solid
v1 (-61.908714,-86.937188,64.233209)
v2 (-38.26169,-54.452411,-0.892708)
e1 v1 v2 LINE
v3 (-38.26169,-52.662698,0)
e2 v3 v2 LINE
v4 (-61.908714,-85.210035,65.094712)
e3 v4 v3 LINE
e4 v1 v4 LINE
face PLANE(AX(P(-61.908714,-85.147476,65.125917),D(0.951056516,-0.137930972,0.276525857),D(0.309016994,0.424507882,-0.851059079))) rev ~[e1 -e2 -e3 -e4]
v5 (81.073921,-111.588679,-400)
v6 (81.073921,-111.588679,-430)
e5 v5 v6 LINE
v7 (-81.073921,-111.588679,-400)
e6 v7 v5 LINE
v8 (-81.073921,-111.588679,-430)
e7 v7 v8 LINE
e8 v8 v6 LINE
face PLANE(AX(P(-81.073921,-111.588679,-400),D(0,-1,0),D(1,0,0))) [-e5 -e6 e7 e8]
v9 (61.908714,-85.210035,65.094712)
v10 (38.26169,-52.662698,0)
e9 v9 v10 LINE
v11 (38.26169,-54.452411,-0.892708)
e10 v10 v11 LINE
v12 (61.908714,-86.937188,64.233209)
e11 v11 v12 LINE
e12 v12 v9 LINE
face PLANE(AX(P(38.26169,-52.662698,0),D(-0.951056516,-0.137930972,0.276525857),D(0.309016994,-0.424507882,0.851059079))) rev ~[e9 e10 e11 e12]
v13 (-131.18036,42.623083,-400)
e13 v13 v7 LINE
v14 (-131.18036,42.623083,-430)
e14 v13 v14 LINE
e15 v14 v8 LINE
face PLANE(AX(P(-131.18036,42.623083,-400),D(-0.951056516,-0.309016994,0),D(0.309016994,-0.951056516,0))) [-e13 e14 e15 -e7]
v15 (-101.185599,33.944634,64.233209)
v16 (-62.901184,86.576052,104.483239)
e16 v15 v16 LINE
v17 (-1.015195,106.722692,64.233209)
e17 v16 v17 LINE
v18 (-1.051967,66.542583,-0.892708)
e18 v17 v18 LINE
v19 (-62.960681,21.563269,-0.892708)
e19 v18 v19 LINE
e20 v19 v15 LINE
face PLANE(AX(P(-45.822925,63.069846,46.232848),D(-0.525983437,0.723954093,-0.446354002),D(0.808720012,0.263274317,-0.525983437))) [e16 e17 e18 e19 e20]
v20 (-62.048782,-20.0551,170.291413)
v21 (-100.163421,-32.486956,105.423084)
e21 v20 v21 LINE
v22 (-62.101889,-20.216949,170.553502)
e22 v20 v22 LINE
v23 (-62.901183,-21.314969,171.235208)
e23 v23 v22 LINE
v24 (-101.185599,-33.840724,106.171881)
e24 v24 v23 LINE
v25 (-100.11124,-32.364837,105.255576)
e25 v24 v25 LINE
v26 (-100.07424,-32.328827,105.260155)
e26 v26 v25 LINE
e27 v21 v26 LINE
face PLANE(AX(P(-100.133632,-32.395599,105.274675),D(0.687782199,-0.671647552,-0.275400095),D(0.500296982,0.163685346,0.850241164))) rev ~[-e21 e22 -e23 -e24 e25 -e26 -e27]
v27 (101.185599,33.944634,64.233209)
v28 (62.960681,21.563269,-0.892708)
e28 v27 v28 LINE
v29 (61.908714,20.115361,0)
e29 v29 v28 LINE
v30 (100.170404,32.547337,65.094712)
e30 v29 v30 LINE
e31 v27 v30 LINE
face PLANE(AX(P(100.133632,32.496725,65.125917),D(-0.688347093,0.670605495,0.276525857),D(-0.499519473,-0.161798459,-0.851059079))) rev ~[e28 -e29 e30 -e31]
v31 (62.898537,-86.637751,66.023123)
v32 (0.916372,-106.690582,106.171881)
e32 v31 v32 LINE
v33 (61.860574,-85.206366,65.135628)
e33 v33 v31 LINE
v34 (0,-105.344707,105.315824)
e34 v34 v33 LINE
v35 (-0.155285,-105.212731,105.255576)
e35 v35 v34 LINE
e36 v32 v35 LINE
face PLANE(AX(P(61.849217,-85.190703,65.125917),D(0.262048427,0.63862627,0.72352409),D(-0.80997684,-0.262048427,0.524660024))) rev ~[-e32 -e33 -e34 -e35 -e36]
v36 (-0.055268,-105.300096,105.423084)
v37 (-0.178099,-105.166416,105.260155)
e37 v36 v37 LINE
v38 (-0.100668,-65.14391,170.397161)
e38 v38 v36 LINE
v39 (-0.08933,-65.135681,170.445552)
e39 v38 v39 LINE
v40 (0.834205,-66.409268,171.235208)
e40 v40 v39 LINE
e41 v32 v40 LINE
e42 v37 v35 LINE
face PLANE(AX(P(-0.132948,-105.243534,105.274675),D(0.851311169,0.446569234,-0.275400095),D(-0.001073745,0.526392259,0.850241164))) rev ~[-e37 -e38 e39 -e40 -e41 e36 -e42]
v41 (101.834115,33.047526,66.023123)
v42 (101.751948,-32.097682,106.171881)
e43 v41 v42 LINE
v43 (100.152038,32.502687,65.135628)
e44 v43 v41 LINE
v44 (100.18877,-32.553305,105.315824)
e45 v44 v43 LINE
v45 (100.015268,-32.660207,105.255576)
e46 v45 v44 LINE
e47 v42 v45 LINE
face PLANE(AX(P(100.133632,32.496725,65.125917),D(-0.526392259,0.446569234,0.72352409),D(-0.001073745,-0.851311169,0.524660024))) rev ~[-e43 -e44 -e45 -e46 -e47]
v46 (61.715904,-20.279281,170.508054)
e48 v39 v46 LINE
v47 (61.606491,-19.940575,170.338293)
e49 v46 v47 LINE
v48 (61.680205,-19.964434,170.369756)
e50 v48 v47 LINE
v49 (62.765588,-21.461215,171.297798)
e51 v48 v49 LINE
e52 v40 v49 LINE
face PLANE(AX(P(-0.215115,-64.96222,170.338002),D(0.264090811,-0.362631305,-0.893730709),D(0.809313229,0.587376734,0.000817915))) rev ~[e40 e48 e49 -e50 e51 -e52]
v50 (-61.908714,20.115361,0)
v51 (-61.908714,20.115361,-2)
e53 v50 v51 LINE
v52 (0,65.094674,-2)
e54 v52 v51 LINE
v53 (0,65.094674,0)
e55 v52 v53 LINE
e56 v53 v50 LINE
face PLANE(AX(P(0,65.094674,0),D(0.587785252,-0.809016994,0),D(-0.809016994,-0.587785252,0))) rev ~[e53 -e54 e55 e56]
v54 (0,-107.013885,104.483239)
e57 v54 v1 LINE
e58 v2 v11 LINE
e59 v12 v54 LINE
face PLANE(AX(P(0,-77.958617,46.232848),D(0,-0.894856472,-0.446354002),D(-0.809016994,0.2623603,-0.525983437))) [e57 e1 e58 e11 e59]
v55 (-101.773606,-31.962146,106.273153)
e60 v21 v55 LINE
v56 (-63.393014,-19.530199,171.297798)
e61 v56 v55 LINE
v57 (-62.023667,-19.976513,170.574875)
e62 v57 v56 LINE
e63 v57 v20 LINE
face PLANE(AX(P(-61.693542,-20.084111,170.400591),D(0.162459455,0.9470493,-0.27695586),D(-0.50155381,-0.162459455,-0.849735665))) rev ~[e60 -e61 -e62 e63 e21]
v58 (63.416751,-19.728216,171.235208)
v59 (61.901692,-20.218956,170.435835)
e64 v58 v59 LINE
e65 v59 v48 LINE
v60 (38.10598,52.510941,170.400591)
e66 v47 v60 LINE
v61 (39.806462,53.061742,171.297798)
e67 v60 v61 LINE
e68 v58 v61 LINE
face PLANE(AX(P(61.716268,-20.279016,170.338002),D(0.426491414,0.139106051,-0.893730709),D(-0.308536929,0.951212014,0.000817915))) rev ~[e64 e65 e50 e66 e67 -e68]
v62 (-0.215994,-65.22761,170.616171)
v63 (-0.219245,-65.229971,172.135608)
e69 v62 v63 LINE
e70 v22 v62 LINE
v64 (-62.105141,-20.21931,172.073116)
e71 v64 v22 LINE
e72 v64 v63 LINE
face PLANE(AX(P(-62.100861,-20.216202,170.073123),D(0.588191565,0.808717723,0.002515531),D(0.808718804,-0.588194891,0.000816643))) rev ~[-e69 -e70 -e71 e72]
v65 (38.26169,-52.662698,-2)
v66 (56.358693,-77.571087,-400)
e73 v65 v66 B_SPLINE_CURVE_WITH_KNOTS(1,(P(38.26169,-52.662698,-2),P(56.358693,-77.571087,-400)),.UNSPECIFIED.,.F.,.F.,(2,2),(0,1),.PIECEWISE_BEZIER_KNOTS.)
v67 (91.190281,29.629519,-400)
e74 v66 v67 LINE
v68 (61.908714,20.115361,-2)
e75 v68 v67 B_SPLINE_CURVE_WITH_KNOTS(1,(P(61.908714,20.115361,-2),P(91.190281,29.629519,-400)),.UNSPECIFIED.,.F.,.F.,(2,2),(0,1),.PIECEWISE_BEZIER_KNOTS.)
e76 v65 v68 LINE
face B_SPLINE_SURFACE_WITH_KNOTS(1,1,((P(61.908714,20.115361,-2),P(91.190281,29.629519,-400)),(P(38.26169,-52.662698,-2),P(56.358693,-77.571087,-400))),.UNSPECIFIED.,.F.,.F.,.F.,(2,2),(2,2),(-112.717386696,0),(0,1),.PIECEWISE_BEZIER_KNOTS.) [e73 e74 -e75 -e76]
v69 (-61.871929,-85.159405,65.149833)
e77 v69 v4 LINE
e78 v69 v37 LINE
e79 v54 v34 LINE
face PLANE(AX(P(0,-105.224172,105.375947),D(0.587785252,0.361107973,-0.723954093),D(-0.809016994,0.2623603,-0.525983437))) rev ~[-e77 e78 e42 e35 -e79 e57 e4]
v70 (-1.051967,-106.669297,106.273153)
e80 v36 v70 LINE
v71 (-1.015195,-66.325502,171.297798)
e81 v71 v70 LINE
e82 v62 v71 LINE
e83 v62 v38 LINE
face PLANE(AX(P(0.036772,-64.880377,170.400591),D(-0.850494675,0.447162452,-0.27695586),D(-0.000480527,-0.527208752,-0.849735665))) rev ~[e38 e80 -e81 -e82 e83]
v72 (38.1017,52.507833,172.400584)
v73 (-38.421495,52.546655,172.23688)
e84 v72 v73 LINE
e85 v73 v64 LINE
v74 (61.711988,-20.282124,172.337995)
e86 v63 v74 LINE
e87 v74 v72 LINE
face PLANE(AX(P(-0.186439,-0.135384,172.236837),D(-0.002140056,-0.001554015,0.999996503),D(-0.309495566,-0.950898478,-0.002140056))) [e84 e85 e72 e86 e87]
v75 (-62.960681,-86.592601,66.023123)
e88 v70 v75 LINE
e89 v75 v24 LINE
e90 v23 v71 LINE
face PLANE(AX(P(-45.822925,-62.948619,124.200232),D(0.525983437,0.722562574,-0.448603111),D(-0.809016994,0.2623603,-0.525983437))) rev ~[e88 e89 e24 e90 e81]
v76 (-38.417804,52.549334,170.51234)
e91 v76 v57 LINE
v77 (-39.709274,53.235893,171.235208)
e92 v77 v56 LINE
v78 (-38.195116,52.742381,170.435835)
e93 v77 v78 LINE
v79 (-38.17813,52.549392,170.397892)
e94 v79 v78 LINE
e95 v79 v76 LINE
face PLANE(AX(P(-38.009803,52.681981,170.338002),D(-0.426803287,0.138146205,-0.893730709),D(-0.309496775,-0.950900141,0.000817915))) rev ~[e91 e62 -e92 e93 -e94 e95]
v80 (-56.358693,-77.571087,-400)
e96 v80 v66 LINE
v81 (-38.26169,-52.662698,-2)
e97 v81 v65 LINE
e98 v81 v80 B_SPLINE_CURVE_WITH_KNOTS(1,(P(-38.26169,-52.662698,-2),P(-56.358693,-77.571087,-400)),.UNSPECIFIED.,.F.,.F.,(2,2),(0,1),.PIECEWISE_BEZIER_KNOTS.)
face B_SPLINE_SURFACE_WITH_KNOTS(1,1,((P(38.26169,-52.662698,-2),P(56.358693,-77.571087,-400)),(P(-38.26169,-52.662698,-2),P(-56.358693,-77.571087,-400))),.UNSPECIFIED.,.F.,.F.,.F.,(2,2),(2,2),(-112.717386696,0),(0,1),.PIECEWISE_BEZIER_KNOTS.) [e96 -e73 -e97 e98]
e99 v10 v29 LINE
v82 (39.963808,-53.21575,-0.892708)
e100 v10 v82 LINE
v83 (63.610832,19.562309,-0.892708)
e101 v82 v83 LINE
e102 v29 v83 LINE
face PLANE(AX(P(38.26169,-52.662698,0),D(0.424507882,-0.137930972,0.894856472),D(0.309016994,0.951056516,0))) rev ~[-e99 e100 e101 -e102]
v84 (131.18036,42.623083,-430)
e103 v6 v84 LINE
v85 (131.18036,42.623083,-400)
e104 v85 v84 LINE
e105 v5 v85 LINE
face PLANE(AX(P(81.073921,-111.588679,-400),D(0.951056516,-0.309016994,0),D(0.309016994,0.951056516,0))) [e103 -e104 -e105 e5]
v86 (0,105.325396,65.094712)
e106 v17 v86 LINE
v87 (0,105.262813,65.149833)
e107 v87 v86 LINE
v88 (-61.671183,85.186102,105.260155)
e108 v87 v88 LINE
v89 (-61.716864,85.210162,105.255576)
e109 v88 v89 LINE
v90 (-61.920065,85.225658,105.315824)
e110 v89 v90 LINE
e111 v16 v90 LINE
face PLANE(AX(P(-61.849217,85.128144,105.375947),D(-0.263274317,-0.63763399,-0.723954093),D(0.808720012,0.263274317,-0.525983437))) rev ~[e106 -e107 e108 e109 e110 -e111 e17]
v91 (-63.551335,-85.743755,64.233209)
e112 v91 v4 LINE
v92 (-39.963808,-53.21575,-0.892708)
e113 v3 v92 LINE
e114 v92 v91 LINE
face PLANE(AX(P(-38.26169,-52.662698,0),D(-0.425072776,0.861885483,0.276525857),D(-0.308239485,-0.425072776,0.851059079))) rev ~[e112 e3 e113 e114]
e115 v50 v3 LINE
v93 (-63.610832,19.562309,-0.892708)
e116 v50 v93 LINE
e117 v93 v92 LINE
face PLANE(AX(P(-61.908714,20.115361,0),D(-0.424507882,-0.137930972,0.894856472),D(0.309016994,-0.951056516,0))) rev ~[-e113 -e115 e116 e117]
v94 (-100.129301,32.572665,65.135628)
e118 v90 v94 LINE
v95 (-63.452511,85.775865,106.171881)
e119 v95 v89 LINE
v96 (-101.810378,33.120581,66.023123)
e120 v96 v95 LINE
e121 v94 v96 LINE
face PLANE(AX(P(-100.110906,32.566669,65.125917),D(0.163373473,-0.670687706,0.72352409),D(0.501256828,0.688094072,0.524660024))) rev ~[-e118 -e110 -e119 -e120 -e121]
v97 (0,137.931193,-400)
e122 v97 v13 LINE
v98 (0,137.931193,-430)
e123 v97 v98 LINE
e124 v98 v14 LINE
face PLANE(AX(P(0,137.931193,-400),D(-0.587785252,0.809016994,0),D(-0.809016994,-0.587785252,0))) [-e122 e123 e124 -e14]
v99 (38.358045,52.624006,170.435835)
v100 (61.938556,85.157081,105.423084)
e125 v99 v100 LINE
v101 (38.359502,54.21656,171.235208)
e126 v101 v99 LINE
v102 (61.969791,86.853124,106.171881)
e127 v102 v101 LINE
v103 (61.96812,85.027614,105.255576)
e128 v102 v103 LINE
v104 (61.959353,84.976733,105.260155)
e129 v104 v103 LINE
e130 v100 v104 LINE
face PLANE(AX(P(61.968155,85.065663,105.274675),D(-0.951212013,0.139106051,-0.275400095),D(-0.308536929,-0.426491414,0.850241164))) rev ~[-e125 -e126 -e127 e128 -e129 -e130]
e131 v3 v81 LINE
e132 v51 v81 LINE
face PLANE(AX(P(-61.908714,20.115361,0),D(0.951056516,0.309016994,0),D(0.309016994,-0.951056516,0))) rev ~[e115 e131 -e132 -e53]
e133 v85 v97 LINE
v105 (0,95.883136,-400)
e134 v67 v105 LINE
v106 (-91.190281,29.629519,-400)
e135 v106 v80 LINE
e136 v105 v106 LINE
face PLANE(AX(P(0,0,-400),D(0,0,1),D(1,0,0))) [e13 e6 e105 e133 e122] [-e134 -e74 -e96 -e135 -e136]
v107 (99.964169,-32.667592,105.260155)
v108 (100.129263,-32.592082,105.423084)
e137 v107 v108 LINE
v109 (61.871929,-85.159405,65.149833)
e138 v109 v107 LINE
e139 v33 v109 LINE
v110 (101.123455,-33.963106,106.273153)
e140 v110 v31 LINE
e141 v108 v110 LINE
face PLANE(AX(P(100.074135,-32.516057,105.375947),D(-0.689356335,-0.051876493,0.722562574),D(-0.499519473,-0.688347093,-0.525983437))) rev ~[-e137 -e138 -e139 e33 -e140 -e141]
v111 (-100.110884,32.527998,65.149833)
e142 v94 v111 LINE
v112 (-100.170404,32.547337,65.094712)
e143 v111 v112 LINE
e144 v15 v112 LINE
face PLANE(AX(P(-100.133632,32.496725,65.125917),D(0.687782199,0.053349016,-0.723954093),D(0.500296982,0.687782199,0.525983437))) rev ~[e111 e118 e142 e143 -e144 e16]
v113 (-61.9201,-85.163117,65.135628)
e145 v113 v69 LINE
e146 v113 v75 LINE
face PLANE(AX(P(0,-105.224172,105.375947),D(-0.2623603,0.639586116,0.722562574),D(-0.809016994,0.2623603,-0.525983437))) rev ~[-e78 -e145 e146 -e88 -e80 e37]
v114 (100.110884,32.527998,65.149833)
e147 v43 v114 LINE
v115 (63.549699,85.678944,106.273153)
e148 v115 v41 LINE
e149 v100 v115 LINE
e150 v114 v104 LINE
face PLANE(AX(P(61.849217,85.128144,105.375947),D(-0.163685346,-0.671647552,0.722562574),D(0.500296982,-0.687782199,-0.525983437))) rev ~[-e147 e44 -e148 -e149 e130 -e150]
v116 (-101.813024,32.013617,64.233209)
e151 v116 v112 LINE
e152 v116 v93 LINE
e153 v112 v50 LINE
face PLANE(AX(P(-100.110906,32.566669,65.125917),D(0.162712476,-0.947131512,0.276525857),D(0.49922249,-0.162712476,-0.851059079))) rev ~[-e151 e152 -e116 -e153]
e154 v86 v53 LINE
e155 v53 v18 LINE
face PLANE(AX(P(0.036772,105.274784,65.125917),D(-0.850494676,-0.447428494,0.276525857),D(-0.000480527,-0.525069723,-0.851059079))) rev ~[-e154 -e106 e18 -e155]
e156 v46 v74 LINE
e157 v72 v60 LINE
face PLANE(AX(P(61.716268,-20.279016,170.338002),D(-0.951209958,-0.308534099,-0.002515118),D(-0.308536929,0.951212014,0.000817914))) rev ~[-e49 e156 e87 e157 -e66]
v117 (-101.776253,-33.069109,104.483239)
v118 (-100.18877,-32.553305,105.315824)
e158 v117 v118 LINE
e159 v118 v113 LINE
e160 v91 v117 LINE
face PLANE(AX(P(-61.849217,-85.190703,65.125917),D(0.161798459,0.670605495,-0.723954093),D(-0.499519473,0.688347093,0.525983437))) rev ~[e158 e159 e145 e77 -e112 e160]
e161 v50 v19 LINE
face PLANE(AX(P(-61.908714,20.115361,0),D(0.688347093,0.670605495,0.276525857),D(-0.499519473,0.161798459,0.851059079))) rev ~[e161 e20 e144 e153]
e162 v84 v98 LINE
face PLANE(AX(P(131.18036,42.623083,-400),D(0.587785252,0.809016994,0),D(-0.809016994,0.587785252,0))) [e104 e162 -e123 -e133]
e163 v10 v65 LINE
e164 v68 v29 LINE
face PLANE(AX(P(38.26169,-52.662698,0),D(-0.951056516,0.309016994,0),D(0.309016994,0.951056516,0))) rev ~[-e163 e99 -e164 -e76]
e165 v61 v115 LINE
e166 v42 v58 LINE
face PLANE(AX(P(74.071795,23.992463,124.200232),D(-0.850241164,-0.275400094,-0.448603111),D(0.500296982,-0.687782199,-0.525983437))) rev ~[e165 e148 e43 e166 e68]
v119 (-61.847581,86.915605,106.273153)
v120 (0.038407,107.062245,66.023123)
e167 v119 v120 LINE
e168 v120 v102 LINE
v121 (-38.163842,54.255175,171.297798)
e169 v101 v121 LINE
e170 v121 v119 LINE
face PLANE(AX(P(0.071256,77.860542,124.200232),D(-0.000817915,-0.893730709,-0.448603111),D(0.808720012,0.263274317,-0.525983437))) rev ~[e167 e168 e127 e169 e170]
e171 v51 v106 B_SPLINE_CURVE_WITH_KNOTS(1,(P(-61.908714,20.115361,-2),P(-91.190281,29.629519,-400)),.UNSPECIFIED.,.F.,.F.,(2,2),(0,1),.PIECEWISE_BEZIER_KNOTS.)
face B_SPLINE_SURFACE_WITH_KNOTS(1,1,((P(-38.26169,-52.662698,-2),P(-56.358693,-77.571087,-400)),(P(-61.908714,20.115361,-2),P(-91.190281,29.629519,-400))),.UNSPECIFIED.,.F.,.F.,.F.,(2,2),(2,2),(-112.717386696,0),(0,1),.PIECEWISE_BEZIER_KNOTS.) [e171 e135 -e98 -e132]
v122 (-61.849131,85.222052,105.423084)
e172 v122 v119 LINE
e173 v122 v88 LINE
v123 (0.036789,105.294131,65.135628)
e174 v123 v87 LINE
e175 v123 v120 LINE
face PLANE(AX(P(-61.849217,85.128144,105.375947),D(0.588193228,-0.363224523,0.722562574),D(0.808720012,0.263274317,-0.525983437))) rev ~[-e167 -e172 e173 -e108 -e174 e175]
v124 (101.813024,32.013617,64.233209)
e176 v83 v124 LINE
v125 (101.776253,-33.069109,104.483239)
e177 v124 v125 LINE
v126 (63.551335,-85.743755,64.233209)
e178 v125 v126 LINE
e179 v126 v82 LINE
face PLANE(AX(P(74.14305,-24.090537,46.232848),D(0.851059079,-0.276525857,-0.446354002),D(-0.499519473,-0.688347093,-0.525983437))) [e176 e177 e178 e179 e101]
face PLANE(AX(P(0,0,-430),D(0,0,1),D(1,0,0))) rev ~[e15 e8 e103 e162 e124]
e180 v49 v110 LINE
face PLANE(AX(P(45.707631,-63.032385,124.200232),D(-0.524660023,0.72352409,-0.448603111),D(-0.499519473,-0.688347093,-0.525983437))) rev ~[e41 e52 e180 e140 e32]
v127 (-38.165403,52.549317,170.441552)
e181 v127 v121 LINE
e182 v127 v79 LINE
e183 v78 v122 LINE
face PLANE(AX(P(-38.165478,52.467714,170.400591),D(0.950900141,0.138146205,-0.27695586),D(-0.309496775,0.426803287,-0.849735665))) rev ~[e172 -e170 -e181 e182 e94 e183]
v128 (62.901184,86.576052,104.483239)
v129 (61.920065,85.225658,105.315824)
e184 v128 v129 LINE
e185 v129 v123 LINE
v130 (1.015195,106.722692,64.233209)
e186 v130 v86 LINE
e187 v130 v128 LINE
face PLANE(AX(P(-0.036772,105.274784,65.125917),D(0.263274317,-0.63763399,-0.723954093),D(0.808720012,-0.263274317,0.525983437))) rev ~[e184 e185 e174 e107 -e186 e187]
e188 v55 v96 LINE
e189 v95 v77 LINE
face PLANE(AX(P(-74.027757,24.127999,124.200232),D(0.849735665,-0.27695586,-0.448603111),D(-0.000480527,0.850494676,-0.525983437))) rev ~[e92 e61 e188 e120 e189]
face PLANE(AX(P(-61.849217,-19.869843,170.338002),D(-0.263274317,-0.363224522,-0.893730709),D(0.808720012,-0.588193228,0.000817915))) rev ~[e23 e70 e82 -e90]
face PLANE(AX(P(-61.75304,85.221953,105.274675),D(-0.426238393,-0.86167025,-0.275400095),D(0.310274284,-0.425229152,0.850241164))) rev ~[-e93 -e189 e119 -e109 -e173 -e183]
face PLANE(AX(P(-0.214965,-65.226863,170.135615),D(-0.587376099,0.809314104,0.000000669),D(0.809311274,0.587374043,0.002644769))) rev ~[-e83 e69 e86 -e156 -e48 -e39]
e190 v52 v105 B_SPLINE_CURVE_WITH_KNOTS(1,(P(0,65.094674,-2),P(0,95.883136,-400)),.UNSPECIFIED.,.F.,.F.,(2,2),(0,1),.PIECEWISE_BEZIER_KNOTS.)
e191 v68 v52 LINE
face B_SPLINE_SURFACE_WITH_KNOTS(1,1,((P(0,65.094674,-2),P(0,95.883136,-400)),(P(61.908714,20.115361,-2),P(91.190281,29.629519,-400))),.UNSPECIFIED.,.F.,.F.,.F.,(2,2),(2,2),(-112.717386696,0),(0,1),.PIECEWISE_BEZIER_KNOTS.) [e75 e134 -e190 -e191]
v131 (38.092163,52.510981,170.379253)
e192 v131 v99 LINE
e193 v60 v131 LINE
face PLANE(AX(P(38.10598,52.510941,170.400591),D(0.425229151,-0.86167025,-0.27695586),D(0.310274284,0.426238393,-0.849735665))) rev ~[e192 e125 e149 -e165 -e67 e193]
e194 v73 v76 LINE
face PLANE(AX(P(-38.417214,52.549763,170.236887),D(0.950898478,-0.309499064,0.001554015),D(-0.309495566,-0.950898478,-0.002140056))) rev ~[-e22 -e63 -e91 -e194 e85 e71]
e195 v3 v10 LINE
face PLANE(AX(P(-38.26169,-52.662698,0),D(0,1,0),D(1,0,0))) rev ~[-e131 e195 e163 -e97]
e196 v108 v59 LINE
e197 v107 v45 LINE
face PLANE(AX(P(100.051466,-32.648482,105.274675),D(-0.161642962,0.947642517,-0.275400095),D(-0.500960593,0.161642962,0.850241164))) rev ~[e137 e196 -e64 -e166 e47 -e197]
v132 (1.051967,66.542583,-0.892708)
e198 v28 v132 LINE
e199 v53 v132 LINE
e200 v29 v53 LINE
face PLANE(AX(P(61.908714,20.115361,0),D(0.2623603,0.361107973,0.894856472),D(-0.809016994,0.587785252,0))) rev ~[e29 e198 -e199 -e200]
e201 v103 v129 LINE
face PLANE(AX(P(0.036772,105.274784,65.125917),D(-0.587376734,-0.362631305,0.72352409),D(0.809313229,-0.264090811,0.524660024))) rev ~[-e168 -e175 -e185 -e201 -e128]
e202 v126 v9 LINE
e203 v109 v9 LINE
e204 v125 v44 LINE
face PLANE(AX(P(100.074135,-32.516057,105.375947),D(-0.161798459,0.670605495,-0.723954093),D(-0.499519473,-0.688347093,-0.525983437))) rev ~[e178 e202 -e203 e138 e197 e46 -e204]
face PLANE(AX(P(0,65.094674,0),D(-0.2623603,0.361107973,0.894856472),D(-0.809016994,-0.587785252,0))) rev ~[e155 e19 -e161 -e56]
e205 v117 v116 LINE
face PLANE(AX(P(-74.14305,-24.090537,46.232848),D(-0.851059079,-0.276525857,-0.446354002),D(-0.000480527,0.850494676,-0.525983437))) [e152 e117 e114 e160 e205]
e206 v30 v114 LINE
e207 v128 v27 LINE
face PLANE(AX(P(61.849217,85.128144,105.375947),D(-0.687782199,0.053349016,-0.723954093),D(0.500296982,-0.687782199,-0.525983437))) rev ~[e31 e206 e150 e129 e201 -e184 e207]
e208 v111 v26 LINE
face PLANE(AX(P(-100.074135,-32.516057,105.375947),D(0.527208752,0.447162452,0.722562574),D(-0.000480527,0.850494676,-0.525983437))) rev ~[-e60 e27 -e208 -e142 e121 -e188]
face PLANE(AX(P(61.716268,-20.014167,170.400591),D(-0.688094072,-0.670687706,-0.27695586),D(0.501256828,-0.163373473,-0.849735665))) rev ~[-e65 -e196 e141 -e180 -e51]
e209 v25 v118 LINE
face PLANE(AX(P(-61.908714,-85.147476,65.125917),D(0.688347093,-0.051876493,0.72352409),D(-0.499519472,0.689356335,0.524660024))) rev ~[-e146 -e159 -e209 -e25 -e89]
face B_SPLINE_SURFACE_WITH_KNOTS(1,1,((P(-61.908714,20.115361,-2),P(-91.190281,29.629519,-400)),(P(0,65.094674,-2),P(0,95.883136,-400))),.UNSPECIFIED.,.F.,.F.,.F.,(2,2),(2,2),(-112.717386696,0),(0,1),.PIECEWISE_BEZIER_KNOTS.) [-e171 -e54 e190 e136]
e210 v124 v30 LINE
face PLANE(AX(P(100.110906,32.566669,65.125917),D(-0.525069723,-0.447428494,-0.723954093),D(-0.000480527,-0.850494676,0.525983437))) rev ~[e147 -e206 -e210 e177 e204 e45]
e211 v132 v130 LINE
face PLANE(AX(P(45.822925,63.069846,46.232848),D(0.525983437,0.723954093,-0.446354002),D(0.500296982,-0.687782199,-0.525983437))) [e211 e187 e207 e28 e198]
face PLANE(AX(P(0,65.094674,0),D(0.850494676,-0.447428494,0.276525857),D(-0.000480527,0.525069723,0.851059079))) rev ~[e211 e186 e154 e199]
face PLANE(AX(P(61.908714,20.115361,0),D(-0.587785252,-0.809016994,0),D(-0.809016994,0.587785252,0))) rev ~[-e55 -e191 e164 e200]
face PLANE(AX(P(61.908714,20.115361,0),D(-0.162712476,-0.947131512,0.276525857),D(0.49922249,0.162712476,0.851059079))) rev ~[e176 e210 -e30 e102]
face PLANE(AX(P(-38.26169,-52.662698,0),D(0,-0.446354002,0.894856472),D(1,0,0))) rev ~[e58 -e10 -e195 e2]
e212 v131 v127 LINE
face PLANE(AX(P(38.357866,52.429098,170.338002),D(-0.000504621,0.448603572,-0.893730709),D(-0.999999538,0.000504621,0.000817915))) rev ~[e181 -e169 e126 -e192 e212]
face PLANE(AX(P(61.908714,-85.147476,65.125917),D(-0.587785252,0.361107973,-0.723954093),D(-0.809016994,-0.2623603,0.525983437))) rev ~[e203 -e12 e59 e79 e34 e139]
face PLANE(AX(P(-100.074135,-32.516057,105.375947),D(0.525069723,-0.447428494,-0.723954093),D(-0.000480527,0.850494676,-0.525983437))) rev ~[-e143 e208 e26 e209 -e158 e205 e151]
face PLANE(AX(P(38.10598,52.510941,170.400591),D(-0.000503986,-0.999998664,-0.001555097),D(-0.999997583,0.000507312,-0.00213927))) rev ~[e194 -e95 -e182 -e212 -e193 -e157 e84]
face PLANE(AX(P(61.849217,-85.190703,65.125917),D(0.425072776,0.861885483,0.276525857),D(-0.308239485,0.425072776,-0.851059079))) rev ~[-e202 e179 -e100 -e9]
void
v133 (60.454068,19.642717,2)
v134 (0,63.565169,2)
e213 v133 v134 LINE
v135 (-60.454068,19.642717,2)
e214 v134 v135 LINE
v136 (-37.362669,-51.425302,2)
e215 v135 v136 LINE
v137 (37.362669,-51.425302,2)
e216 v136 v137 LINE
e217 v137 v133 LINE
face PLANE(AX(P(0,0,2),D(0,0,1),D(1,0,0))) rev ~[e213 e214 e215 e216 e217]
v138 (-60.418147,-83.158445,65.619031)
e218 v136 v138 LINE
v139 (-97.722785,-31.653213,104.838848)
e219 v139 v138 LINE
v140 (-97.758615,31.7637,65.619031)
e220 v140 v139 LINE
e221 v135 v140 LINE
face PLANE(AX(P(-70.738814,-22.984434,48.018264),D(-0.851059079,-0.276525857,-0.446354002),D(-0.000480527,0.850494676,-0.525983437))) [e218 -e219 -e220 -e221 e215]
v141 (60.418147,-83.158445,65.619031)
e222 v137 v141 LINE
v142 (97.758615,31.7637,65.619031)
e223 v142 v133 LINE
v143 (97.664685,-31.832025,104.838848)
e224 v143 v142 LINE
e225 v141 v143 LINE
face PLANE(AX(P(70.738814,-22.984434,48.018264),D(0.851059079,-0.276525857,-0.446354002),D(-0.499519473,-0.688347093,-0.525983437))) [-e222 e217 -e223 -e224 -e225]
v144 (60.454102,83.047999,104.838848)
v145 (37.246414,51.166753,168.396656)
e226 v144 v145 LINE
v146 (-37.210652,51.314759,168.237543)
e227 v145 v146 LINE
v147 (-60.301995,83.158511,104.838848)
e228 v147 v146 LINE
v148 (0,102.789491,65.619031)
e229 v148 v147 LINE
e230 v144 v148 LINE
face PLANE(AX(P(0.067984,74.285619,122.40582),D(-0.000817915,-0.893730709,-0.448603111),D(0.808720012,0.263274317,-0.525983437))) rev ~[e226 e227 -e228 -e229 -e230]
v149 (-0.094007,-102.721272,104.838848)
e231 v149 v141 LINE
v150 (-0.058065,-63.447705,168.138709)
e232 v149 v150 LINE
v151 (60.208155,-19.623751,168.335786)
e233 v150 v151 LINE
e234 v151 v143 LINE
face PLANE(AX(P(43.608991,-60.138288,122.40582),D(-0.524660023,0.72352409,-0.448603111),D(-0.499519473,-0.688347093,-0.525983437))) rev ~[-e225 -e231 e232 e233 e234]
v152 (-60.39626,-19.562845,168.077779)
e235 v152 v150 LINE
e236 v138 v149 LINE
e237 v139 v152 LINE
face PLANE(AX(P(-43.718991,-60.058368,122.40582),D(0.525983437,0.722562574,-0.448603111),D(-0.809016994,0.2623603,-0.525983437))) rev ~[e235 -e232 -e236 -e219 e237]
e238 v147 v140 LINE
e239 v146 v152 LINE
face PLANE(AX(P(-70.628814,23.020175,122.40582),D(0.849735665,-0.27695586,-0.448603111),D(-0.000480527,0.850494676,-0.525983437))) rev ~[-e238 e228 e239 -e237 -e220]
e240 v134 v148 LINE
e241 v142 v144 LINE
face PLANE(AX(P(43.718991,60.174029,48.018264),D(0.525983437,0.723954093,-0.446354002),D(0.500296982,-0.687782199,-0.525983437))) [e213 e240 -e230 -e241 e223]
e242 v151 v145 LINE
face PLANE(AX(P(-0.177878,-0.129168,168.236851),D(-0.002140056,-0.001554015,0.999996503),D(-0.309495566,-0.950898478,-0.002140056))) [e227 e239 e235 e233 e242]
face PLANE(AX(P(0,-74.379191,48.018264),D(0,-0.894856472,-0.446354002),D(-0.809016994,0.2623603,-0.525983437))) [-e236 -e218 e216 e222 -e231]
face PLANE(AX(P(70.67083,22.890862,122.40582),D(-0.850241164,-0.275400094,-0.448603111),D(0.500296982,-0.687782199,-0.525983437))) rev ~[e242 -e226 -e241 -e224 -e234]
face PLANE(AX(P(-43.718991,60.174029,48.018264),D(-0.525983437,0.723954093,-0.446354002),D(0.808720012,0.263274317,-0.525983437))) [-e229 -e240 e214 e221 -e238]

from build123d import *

# Parameters (mm, degrees)
F1_DEPTH      = 2
F1_DEPTH_BACK = 2
F4_ANGLE      = -116.51
F5_COUNT      = 5
F8_ANGLE      = -116.51
F9_COUNT      = 5
F14_ANGLE     = -116.51
F20_DEPTH     = 30


with BuildPart() as f1:
    # F0 (on Top) → F1 (new body, two sides)
    with BuildSketch(Plane.XY) as f1_sk:
        Polygon((38.2616896409, -52.6626978685), (61.9087143061, 20.1153606465), (0, 65.094674444), (-61.9087143061, 20.1153606465), (-38.2616896409, -52.6626978685), align=None)
    extrude(amount=-F1_DEPTH)
    extrude(f1_sk.sketch, amount=F1_DEPTH_BACK)


with BuildPart() as f3_1:
    # F3: copy of F1
    add(f1.part)


with BuildPart() as f3_1_1:
    # F4: moved
    add(f3_1.part.rotate(Axis((30.954357153, 42.6050175452, 0), (0.8090169944, -0.5877852523, 0)), F4_ANGLE))


with BuildPart() as f5_1:
    # F5: instance of F3_1
    add(f3_1_1.part.rotate(Axis((0, 0, 53.0848614872), (0, 0, 1)), 1 * 360 / F5_COUNT))


with BuildPart() as f5_2:
    # F5: instance of F3_1
    add(f3_1_1.part.rotate(Axis((0, 0, 53.0848614872), (0, 0, 1)), 2 * 360 / F5_COUNT))


with BuildPart() as f5_3:
    # F5: instance of F3_1
    add(f3_1_1.part.rotate(Axis((0, 0, 53.0848614872), (0, 0, 1)), 3 * 360 / F5_COUNT))


with BuildPart() as f5_4:
    # F5: instance of F3_1
    add(f3_1_1.part.rotate(Axis((0, 0, 53.0848614872), (0, 0, 1)), 4 * 360 / F5_COUNT))


with BuildPart() as f7_1:
    # F7: copy of F3_1
    add(f3_1_1.part)


with BuildPart() as f7_1_1:
    # F8: moved
    add(f7_1.part.rotate(Axis((80.9914244955, 58.8124345203, 85.250931688), (0.5002969823, -0.6877821992, -0.525983437)), F8_ANGLE))


with BuildPart() as f9_1:
    # F9: instance of F7_1
    add(f7_1_1.part.rotate(Axis((0, 0, 53.0848614872), (0, 0, 1)), 1 * 360 / F9_COUNT))


with BuildPart() as f9_2:
    # F9: instance of F7_1
    add(f7_1_1.part.rotate(Axis((0, 0, 53.0848614872), (0, 0, 1)), 2 * 360 / F9_COUNT))


with BuildPart() as f9_3:
    # F9: instance of F7_1
    add(f7_1_1.part.rotate(Axis((0, 0, 53.0848614872), (0, 0, 1)), 3 * 360 / F9_COUNT))


with BuildPart() as f9_4:
    # F9: instance of F7_1
    add(f7_1_1.part.rotate(Axis((0, 0, 53.0848614872), (0, 0, 1)), 4 * 360 / F9_COUNT))


with BuildPart() as f11_1:
    # F11: copy of F9_4
    add(f9_4.part)


with BuildPart() as f12_1:
    # F12: copy of F7_1
    add(f7_1_1.part)


with BuildPart() as f12_1_1:
    # F14: moved
    add(f12_1.part.rotate(Axis((49.7991616985, 16.4611398873, 170.3695933153), (0.3085369287, -0.9512120135, -0.0008179145)), F14_ANGLE))


with BuildPart() as f1_1:
    add(f1.part)

    # F15 (on face) → F18 section 0
    with BuildSketch(Plane(origin=(0, 0, -2), x_dir=(1, 0, 0), z_dir=(0, 0, -1))):
        Polygon((61.9087143061, -20.1153606465), (38.2616896409, 52.6626978685), (-38.2616896409, 52.6626978685), (-61.9087143061, -20.1153606465), (0, -65.094674444), align=None)
    # F17 (on offset) → F18 section 1
    with BuildSketch(Plane.XY.offset(-400)):
        Polygon((-56.358693348, -77.5710865855), (56.358693348, -77.5710865855), (91.1902813985, 29.6295185314), (0, 95.8831361082), (-91.1902813985, 29.6295185314), align=None)
    loft()

    add(f3_1_1.part)  # F20 merges F3_1

    add(f5_1.part)  # F20 merges F5_1

    add(f5_2.part)  # F20 merges F5_2

    add(f5_3.part)  # F20 merges F5_3

    add(f5_4.part)  # F20 merges F5_4

    add(f7_1_1.part)  # F20 merges F7_1

    add(f9_1.part)  # F20 merges F9_1

    add(f9_2.part)  # F20 merges F9_2

    add(f9_3.part)  # F20 merges F9_3

    add(f9_4.part)  # F20 merges F9_4

    add(f12_1_1.part)  # F20 merges F12_1
    # F19 (on offset) → F20 (join)
    with BuildSketch(Plane.XY.offset(-400)):
        Polygon((-81.073921122, -111.5886792541), (81.073921122, -111.5886792541), (131.1803599767, 42.6230827153), (0, 137.9311930774), (-131.1803599767, 42.6230827153), align=None)
    extrude(amount=-F20_DEPTH)


solid = f1_1.part
